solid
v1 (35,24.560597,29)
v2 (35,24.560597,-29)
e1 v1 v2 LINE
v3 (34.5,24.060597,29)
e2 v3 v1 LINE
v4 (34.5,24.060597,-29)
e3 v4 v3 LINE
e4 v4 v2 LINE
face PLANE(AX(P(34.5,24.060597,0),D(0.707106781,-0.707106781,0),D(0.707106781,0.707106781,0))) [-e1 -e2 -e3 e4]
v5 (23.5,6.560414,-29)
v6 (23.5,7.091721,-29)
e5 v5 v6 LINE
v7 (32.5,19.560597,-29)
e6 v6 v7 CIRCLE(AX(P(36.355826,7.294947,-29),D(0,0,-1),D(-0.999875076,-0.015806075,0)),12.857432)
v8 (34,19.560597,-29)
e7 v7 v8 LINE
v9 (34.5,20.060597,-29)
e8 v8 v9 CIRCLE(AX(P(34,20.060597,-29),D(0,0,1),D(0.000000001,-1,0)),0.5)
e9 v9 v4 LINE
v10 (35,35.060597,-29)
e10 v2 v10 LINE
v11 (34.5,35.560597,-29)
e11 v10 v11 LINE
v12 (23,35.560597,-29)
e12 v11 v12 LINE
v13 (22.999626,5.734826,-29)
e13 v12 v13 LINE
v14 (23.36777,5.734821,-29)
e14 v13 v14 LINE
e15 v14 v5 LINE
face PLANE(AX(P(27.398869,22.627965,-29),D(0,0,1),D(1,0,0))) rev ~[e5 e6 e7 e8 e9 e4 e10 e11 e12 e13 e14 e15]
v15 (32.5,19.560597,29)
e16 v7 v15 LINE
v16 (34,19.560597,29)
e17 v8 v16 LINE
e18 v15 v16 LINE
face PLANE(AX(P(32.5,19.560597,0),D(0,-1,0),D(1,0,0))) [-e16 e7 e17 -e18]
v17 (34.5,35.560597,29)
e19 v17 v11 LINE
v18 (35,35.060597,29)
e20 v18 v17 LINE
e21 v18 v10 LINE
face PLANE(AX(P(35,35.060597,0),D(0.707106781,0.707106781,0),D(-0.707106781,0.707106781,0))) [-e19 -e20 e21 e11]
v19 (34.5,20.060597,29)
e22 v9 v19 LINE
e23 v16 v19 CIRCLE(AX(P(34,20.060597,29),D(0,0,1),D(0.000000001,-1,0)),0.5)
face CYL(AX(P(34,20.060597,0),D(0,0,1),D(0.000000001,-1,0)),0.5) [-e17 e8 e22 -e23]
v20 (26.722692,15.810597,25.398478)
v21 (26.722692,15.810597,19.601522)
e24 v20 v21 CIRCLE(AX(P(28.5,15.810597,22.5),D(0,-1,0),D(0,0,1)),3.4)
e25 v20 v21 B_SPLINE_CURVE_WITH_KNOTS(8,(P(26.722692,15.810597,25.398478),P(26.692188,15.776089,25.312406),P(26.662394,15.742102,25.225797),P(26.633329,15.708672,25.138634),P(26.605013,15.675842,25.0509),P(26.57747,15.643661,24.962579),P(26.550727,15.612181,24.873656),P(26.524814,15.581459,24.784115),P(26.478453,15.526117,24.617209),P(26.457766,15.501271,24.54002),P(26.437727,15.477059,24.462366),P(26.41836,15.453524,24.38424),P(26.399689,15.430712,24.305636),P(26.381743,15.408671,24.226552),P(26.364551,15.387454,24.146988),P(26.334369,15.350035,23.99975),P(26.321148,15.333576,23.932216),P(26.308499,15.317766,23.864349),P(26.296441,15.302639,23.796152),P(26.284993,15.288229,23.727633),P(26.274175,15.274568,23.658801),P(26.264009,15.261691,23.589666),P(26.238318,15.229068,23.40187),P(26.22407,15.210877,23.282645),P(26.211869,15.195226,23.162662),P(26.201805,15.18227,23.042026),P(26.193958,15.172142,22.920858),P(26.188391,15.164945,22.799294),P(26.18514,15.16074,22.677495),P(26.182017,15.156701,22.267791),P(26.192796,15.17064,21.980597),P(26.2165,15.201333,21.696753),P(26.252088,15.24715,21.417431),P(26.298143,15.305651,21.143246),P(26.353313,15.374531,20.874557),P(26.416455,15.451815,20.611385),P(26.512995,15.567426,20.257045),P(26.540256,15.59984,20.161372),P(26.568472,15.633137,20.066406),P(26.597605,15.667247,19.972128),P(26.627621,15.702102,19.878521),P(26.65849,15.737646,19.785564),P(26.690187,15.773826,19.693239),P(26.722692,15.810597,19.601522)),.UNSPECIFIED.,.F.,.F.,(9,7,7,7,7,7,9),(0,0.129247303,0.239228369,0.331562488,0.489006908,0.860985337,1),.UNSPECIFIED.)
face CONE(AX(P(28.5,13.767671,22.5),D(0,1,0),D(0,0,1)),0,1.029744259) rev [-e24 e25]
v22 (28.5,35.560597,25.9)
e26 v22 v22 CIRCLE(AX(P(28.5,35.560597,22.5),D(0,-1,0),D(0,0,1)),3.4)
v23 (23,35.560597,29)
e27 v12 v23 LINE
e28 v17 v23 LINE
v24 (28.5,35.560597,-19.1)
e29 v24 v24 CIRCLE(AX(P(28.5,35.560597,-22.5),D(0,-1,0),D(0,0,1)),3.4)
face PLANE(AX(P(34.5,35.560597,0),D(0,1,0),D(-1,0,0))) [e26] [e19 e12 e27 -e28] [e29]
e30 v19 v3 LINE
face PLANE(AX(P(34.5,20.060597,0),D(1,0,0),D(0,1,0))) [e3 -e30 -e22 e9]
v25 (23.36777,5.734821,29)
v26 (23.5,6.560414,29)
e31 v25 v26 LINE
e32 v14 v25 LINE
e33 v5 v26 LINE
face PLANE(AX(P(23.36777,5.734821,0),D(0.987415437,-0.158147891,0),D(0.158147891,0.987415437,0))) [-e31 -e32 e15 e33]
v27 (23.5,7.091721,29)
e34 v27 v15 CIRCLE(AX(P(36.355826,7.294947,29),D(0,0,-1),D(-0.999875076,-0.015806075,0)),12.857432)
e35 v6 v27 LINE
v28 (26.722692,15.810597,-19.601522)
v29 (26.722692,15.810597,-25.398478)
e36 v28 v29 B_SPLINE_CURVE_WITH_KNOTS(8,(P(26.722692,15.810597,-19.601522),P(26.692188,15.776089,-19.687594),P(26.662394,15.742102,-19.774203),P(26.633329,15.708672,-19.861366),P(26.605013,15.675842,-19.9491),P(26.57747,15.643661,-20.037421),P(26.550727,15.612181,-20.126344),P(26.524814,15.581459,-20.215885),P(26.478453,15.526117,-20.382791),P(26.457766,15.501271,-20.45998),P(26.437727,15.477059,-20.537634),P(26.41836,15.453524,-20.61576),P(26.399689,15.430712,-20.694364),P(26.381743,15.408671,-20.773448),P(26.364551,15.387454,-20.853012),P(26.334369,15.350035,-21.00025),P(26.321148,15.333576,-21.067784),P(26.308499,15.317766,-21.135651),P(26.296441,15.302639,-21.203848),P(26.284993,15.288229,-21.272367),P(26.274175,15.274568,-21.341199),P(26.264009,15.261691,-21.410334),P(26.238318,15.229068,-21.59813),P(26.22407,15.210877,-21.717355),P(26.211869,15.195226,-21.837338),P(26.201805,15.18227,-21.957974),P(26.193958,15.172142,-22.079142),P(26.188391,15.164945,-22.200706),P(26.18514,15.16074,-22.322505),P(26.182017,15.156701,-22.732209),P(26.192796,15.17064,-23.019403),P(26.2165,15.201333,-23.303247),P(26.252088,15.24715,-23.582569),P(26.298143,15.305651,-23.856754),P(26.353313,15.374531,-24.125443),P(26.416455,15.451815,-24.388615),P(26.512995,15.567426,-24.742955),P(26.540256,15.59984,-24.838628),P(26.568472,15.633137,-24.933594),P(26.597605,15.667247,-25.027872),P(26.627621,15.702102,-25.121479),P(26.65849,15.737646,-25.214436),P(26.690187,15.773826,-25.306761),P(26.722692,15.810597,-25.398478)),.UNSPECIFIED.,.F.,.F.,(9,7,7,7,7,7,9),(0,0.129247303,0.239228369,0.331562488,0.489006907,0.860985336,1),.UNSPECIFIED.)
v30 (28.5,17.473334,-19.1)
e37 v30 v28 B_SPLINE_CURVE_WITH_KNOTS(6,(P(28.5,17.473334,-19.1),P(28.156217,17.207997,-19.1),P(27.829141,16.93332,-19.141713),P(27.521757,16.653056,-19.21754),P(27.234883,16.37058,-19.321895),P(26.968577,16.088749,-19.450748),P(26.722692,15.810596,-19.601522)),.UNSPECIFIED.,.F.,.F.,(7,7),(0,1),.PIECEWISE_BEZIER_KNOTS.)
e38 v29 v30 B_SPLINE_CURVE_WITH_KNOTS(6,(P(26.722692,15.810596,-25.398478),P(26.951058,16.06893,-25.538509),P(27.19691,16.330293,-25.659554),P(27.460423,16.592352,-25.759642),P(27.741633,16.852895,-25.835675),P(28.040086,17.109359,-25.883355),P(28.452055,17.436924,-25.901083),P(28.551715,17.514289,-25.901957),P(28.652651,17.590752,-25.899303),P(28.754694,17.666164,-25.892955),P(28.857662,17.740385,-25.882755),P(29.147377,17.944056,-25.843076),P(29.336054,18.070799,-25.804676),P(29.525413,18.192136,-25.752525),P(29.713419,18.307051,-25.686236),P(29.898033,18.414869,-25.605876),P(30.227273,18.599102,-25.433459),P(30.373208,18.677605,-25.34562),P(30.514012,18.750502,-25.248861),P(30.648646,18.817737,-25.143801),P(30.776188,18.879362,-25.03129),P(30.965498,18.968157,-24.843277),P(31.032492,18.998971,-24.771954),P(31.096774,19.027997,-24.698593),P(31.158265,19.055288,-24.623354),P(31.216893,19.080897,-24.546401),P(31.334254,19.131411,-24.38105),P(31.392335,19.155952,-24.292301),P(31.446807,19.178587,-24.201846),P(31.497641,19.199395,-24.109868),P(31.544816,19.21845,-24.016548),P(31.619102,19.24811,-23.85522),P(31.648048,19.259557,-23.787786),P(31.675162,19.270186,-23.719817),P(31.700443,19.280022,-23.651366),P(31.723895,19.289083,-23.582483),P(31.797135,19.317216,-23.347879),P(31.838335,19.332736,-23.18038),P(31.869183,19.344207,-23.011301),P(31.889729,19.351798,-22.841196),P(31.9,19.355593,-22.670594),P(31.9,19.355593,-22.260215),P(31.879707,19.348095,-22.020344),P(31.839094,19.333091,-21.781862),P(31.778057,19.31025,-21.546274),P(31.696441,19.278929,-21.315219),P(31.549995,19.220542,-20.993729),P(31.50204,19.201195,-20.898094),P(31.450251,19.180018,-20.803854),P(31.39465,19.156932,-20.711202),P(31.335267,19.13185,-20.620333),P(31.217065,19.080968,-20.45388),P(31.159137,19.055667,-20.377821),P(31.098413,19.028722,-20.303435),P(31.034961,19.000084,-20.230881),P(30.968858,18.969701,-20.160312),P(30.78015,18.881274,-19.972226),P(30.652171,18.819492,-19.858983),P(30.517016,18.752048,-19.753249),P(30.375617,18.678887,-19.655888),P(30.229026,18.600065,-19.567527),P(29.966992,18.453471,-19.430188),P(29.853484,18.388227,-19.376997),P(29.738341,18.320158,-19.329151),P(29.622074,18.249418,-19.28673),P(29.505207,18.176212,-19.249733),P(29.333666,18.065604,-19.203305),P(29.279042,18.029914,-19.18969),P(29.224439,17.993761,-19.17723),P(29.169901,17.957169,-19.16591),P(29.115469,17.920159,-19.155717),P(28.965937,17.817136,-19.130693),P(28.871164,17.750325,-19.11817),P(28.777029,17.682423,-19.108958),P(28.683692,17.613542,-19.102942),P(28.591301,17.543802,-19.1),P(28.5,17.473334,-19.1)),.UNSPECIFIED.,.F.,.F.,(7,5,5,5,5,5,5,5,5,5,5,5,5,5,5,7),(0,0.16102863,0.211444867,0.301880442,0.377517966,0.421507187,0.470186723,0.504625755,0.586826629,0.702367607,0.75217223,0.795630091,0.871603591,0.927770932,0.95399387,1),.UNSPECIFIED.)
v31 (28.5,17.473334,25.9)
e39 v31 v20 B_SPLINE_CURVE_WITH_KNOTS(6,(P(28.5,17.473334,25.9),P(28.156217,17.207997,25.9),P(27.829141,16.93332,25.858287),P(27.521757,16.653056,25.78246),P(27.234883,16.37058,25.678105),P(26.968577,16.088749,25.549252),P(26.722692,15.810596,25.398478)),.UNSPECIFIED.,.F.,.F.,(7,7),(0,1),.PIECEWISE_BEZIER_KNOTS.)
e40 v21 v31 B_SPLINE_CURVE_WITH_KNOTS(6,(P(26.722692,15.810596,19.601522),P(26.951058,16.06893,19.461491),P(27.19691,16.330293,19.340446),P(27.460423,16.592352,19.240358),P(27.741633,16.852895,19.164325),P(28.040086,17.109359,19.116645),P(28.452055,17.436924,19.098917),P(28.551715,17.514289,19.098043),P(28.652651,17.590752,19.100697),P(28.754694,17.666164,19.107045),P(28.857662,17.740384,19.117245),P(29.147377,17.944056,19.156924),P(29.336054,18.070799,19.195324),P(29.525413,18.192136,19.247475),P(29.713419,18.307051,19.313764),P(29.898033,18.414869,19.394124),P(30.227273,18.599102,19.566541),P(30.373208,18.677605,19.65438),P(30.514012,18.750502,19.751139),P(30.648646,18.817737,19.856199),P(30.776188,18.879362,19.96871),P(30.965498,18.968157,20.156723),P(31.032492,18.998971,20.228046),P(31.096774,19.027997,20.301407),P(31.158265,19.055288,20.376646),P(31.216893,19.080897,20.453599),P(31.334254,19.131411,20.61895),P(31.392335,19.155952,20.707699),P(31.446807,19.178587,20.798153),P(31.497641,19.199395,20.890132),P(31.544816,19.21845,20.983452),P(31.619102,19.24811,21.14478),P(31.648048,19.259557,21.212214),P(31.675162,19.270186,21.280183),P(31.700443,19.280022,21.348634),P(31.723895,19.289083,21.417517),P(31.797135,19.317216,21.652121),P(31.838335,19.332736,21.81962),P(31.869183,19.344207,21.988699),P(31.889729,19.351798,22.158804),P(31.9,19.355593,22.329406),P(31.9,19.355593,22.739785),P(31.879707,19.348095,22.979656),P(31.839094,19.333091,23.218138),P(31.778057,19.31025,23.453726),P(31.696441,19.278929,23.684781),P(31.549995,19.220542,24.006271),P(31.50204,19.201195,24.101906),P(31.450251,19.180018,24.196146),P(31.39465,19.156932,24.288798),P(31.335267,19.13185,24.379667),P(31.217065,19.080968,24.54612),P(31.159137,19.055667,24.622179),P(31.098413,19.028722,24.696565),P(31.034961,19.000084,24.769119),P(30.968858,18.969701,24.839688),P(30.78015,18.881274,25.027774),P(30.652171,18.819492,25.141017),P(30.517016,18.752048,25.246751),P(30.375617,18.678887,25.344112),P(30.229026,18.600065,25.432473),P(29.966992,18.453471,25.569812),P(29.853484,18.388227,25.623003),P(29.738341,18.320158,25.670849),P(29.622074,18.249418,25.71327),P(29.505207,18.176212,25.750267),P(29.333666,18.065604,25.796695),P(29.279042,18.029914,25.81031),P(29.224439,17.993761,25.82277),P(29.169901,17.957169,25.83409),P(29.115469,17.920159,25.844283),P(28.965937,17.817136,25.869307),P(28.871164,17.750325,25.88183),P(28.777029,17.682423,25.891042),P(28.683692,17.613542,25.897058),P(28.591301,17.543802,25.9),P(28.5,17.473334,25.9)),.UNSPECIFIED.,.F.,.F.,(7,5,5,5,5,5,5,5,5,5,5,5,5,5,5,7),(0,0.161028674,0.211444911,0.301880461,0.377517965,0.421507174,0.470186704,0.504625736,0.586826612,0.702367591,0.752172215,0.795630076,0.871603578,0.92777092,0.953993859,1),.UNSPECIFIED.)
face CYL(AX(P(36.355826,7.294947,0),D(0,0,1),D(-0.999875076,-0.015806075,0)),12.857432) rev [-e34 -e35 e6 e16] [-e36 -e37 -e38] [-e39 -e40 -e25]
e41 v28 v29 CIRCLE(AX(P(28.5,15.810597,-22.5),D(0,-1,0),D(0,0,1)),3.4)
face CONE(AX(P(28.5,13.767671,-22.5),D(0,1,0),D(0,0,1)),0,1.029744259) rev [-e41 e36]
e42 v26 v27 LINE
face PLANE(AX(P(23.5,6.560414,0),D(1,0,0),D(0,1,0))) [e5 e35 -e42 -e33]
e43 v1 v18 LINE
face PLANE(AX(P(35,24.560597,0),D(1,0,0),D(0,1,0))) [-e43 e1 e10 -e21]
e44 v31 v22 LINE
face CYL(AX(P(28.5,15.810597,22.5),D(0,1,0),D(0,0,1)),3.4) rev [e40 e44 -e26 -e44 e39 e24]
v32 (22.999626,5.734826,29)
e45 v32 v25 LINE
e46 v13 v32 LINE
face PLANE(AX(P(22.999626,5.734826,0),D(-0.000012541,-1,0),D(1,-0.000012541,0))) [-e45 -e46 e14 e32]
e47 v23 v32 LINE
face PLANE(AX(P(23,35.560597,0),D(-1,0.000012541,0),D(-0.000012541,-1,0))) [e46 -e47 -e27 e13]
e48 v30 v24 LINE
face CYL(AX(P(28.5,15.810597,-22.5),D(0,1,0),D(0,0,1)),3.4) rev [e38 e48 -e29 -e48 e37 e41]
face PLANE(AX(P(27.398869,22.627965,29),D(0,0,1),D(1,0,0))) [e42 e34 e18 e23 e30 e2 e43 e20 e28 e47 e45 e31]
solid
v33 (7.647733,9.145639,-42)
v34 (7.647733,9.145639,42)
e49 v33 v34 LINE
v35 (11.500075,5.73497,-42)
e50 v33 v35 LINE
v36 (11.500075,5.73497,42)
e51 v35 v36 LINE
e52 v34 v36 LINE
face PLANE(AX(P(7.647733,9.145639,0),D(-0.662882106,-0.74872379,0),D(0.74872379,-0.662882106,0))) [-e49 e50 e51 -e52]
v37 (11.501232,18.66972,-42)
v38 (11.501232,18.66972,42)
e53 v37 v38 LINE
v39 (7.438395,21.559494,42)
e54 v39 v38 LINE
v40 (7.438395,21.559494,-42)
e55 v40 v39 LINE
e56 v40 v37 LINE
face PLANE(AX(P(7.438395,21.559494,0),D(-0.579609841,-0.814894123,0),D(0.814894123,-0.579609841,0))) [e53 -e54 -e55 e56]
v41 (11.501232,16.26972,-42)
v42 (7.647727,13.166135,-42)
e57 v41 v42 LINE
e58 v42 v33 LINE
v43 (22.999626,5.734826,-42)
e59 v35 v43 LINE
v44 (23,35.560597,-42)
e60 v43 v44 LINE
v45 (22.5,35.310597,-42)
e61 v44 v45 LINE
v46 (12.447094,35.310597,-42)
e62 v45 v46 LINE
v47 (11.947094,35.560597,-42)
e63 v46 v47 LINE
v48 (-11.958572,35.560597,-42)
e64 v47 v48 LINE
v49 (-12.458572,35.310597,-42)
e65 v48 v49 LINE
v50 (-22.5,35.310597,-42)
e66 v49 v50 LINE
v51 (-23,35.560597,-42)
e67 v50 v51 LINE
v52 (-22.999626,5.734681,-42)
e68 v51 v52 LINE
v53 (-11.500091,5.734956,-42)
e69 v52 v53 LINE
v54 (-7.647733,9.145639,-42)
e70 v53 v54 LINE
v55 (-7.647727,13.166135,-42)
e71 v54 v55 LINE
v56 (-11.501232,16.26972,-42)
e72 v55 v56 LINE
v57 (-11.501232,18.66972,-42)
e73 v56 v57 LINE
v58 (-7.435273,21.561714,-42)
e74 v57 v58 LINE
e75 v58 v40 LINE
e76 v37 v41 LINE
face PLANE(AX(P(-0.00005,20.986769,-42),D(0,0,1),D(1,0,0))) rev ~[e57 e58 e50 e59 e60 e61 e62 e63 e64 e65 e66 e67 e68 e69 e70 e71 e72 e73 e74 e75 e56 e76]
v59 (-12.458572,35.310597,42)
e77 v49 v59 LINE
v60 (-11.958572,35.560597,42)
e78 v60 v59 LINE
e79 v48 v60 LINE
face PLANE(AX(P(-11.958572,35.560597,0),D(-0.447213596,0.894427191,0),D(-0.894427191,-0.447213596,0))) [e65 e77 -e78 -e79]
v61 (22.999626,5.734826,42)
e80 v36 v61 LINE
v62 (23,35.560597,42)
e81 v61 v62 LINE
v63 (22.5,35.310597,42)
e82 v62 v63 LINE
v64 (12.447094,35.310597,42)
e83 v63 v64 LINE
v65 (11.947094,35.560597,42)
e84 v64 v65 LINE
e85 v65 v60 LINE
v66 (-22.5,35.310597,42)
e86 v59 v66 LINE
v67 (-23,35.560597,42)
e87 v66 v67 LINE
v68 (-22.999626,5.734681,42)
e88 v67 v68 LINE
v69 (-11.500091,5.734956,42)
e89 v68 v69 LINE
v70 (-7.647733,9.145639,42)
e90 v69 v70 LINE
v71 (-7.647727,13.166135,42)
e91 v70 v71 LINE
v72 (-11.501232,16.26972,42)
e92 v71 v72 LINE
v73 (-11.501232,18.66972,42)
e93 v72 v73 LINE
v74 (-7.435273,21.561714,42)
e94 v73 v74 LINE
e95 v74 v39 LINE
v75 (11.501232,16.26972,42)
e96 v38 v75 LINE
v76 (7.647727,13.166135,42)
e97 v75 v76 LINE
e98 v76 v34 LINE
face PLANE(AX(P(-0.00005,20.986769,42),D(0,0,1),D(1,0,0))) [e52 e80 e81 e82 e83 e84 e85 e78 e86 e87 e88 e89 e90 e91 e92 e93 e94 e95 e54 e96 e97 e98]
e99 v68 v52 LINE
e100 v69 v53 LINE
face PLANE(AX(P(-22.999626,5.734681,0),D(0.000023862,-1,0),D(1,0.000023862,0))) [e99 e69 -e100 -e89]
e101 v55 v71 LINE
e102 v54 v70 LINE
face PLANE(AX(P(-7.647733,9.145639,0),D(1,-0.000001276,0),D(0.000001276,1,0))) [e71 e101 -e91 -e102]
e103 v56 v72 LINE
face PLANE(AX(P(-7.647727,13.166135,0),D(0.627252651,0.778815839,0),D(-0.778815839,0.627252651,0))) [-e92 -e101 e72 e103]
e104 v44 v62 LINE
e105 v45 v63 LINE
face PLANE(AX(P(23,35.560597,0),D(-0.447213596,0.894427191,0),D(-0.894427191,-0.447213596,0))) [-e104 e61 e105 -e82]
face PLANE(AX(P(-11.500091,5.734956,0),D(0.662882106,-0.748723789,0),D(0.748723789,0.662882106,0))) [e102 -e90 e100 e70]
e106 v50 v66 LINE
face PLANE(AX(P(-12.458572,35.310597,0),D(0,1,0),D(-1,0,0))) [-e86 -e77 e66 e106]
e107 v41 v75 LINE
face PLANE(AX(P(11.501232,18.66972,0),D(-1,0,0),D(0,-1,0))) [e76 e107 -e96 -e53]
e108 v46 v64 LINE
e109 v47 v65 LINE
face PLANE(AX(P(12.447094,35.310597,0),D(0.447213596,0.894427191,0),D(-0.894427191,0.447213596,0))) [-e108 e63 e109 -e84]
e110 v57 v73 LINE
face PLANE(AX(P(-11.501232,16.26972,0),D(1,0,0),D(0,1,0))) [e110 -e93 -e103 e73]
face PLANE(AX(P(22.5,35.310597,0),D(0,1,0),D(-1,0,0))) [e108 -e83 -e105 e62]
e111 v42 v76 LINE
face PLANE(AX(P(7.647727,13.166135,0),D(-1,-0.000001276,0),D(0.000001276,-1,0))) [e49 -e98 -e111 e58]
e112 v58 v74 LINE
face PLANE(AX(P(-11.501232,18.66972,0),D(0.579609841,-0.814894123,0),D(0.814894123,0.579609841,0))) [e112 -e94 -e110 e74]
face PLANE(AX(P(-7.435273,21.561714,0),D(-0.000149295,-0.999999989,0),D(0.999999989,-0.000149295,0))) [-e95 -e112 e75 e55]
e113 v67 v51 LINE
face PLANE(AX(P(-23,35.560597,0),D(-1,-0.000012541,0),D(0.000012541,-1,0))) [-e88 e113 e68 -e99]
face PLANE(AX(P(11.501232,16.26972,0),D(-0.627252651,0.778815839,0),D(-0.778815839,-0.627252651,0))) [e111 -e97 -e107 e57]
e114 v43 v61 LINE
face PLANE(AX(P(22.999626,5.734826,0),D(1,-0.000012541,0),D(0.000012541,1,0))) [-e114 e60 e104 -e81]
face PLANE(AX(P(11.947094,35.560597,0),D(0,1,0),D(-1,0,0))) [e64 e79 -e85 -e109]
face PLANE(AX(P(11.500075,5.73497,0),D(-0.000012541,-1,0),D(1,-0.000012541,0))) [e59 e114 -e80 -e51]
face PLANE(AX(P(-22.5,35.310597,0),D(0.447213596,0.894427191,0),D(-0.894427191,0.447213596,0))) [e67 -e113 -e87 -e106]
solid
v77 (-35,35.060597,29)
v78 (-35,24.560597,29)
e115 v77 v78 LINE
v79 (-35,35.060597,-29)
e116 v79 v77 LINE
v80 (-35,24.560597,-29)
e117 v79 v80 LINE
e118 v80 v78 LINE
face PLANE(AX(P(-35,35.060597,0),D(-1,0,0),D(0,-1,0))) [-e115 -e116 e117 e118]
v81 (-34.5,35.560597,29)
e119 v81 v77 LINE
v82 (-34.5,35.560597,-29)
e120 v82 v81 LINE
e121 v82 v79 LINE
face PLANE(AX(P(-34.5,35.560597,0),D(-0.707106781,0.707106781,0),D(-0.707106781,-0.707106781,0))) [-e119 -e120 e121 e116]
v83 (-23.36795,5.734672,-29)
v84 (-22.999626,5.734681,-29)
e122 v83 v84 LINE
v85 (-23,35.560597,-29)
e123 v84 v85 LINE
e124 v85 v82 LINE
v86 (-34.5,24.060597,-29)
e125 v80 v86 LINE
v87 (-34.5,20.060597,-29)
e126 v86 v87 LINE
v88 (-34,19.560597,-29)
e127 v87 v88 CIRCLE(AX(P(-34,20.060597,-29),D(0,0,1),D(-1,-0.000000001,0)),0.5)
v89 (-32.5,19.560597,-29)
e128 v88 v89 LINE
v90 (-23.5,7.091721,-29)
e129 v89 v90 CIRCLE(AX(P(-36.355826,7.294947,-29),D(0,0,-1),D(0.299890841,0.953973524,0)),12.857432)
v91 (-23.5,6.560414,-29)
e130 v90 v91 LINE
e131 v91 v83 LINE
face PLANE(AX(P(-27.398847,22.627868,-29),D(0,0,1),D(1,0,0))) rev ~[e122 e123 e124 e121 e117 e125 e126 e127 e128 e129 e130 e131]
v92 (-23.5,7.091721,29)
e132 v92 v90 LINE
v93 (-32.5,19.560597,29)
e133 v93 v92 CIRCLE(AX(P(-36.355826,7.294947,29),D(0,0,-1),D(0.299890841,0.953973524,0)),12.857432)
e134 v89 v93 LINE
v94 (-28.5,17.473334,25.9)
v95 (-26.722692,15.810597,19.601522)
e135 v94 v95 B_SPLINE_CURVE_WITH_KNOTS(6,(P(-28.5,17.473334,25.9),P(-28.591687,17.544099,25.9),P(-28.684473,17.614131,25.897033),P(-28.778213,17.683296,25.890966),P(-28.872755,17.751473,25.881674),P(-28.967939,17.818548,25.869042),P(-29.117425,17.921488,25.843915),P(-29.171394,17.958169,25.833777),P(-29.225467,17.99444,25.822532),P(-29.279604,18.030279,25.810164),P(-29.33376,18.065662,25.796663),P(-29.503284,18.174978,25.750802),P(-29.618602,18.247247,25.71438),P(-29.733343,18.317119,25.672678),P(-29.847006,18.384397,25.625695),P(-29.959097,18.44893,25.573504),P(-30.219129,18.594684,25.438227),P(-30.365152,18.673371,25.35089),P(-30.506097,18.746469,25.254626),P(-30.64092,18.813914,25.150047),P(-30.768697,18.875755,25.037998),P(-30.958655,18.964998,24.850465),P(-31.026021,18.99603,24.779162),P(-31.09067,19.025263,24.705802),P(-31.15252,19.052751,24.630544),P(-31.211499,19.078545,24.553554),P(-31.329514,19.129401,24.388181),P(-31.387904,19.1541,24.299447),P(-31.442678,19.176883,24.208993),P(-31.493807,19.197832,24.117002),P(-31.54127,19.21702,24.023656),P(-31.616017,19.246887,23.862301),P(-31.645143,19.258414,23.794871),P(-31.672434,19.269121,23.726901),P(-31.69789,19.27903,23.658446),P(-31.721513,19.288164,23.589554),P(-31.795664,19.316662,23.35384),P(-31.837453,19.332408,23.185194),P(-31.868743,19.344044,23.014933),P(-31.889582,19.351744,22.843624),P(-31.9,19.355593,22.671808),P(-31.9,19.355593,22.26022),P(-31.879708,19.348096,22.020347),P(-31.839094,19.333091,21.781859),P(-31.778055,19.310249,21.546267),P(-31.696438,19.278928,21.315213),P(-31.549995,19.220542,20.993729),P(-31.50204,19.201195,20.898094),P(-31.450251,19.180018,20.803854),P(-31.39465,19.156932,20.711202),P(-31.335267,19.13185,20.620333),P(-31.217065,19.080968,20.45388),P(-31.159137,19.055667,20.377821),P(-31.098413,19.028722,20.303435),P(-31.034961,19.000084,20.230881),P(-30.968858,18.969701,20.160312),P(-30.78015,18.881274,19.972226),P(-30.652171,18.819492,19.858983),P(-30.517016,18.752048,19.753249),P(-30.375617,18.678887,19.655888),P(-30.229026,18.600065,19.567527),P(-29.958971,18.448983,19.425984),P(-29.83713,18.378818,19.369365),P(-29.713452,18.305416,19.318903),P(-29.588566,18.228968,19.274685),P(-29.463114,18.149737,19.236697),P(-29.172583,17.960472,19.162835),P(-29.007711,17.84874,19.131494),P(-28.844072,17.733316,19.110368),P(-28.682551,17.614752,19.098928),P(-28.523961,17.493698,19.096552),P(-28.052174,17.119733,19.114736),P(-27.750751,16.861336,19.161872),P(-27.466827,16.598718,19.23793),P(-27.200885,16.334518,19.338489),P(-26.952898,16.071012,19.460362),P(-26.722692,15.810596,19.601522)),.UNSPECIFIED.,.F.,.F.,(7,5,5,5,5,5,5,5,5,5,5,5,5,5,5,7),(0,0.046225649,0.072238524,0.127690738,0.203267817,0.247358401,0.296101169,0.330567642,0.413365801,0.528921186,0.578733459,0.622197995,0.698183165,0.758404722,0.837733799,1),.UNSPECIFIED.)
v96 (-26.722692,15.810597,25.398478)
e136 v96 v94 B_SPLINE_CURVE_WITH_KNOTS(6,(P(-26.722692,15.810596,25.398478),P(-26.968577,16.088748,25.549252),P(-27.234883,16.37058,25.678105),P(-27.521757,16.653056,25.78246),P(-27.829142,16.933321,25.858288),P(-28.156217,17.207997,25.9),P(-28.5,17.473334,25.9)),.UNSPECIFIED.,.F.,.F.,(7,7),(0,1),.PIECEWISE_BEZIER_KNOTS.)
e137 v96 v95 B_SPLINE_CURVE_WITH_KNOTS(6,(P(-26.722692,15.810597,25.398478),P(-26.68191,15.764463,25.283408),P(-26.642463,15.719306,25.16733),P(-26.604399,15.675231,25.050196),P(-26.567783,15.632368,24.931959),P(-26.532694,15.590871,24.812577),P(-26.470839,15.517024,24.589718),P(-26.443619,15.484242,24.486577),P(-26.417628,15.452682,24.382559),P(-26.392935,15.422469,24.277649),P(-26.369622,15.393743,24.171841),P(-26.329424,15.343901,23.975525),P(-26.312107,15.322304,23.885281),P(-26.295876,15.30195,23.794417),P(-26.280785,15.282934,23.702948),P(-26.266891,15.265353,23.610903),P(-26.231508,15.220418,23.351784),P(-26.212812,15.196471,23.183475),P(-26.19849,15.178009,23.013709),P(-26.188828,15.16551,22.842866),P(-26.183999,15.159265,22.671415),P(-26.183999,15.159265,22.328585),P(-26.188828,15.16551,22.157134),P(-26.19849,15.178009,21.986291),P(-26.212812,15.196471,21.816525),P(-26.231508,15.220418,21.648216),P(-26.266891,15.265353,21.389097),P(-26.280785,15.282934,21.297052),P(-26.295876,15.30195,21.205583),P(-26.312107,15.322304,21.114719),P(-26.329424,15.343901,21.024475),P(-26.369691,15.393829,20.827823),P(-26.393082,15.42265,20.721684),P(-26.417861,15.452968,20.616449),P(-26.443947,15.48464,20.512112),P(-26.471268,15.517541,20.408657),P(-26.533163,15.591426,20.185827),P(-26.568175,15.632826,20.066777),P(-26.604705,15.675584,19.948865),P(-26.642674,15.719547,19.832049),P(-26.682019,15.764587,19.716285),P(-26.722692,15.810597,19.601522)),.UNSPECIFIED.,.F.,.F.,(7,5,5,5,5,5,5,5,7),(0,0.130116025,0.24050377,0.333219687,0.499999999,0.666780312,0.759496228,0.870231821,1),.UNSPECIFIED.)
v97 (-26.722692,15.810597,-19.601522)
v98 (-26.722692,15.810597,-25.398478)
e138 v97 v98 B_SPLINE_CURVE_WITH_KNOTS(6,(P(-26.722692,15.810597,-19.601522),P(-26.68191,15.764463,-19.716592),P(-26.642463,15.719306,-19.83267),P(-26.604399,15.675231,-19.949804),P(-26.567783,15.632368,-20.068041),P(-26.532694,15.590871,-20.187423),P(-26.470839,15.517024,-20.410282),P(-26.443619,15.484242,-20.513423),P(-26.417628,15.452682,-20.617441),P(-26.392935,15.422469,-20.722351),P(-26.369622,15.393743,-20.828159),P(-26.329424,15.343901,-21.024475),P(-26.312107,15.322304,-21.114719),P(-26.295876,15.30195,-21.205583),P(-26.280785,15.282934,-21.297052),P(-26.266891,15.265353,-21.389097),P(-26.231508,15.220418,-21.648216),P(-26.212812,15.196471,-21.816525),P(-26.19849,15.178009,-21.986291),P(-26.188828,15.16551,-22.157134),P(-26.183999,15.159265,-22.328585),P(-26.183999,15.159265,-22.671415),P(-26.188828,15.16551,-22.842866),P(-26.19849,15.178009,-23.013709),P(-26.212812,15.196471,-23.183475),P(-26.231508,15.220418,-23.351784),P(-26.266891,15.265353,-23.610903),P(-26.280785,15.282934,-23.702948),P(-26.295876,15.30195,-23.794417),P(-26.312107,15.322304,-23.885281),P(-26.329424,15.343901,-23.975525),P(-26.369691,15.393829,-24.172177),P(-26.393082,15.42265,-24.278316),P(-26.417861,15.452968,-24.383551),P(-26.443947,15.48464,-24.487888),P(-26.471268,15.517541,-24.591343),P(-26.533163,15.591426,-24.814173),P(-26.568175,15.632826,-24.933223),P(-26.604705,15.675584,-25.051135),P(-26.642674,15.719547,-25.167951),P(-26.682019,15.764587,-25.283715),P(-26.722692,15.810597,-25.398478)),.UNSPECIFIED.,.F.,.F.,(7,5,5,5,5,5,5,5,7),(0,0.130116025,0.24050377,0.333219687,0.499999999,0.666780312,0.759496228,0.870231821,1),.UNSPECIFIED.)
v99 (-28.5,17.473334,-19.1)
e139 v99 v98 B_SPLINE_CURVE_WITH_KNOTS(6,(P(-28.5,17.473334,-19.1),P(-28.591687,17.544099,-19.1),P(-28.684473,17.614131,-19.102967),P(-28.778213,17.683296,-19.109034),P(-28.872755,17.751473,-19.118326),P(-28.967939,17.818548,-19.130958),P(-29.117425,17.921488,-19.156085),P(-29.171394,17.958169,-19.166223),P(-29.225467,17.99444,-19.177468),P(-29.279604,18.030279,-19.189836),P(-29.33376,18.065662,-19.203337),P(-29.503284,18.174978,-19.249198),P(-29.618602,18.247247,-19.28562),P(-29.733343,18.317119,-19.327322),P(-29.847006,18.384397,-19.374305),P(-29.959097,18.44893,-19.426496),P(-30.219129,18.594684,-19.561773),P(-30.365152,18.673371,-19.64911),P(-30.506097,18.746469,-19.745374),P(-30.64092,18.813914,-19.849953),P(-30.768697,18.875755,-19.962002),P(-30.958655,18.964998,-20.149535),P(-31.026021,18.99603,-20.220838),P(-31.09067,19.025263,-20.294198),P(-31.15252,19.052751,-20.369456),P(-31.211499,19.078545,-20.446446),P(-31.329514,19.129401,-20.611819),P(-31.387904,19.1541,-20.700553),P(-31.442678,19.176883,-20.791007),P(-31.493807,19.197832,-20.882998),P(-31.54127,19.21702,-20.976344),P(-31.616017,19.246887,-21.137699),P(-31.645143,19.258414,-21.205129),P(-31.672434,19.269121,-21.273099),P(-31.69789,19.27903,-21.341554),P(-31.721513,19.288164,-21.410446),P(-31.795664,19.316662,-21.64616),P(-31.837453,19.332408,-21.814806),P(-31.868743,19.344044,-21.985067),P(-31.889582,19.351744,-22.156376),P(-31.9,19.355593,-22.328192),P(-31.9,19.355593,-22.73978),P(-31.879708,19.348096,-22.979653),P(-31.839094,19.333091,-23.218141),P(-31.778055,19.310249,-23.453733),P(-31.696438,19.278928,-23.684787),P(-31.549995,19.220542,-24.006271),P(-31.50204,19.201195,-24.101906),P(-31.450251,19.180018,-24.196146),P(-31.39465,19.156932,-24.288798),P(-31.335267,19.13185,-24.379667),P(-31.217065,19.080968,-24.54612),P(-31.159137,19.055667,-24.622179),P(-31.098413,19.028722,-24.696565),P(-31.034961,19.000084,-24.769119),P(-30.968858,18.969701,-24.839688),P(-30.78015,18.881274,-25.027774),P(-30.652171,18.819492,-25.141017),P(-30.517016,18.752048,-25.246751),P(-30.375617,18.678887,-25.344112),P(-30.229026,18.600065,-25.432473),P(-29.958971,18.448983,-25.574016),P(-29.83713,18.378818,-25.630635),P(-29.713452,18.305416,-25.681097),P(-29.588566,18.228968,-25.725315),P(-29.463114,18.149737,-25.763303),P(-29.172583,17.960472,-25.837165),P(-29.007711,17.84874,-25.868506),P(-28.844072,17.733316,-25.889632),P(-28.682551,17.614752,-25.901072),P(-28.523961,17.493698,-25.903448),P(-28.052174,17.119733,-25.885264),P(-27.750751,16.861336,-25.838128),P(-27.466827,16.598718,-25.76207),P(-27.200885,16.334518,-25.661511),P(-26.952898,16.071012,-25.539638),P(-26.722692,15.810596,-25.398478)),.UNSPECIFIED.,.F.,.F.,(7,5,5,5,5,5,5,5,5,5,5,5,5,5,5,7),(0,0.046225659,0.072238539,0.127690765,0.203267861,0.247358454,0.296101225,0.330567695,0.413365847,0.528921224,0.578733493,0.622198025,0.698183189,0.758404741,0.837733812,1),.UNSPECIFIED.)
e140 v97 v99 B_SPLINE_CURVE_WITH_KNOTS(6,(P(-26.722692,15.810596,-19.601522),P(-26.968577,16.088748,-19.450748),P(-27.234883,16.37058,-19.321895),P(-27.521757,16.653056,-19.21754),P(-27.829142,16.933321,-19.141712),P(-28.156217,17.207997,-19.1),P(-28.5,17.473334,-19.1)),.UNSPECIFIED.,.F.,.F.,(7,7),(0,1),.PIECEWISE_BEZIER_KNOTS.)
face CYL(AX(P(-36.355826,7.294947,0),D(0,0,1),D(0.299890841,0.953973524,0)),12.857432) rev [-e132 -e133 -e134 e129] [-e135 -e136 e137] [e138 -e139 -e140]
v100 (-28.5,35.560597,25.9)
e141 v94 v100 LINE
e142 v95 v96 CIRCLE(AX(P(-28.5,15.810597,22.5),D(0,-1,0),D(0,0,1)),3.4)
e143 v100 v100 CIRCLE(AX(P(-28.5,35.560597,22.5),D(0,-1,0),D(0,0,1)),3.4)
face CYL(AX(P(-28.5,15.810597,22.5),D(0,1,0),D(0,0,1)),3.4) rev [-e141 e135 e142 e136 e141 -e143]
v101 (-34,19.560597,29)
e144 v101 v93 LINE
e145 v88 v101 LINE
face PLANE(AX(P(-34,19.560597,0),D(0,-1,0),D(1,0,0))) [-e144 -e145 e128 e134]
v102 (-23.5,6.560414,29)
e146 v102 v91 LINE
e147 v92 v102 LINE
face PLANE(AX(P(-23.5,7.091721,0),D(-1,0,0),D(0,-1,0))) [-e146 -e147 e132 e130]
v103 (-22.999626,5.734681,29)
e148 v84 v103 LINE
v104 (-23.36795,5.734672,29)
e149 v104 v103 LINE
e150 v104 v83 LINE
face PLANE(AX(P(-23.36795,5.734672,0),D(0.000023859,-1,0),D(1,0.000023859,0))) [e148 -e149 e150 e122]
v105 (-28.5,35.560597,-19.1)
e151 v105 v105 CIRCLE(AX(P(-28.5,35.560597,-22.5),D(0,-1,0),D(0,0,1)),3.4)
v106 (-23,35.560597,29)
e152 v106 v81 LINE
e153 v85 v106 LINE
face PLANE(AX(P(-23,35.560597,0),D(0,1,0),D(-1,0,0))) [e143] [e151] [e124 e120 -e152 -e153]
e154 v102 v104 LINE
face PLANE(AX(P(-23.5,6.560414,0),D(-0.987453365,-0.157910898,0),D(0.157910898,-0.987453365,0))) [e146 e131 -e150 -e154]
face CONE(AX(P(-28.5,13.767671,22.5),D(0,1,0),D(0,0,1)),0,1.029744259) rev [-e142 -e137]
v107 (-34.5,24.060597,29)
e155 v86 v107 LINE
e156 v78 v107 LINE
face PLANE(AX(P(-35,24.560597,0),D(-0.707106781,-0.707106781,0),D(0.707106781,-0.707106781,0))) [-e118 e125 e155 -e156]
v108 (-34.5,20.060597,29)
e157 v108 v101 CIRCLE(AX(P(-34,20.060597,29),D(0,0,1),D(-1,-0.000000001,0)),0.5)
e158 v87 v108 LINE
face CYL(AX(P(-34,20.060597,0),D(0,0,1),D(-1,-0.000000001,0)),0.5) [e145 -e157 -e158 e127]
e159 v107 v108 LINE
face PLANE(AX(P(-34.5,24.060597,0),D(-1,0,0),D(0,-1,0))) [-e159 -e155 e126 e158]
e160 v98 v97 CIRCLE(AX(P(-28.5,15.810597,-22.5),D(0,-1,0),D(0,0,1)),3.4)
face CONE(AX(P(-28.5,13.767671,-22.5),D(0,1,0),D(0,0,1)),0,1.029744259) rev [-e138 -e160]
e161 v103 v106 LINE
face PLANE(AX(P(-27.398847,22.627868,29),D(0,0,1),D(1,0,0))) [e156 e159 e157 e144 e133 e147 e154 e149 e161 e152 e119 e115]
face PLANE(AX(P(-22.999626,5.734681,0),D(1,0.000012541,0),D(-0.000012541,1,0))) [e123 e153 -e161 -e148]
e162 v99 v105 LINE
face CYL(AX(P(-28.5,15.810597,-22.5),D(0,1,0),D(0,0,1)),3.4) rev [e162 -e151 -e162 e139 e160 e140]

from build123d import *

# Parameters (mm, degrees)
EXTRUDE_1_DEPTH             = 42
EXTRUDE_2_DEPTH             = 29
EXTRUDE_2_2_DEPTH           = 29
HOLE_WIZARD_M8_1_AT_2_COUNT = 2
HOLE_WIZARD_M8_1_AT_2_PITCH = 45
HOLE_WIZARD_M8_1_AT_3_COUNT = 2
HOLE_WIZARD_M8_1_AT_3_PITCH = 72.622310621
HOLE_WIZARD_M8_1_AT_4_COUNT = 2
HOLE_WIZARD_M8_1_AT_4_PITCH = 57


with BuildPart() as part:
    # 草图1 → 凸台-拉伸1 (new, symmetric)
    with BuildSketch(Plane.XY):
        Polygon((-11.500091475, 5.734955537), (-7.647732558, 9.145638929), (-7.647727428, 13.16613519), (-11.50123169, 16.269719689), (-11.50123169, 18.669719689), (-7.435273395, 21.561714335), (7.43839537, 21.559493767), (11.50123169, 18.669719689), (11.50123169, 16.269719689), (7.647727428, 13.16613519), (7.647732558, 9.145638929), (11.500075136, 5.734970004), (22.999625955, 5.734825788), (23, 35.560596819), (22.5, 35.310596819), (12.447093803, 35.310596819), (11.947093803, 35.560596819), (-11.958571704, 35.560596819), (-12.458571704, 35.310596819), (-22.5, 35.310596819), (-23, 35.560596819), (-22.999625953, 5.734681137), align=None)
    extrude(amount=EXTRUDE_1_DEPTH, both=True)


with BuildPart() as body_2:
    # 草图1<5> → 凸台-拉伸2 (new, symmetric)
    with BuildSketch(Plane.XY):
        with BuildLine():
            Line((34.5, 35.560596819), (23, 35.560596819))
            Line((23, 35.560596819), (22.999625955, 5.734825788))
            Line((22.999625955, 5.734825788), (23.367770173, 5.734821171))
            Line((23.367770173, 5.734821171), (23.5, 6.560414048))
            Line((23.5, 6.560414048), (23.5, 7.09172117))
            ThreePointArc((23.5, 7.09172117), (25.930470263, 14.819939841), (32.5, 19.560596819))
            Line((32.5, 19.560596819), (34, 19.560596819))
            ThreePointArc((34, 19.560596819), (34.353553391, 19.707043429), (34.5, 20.060596819))
            Line((34.5, 20.060596819), (34.5, 24.060596819))
            Line((34.5, 24.060596819), (35, 24.560596819))
            Line((35, 24.560596819), (35, 35.060596819))
            Line((35, 35.060596819), (34.5, 35.560596819))
        make_face()
    extrude(amount=EXTRUDE_2_DEPTH, both=True)


with BuildPart() as body_3:
    # 草图1<5> → Extrude 2 2 (new, symmetric)
    with BuildSketch(Plane.XY):
        with BuildLine():
            Line((-23.367949599, 5.734672349), (-22.999625953, 5.734681137))
            Line((-22.999625953, 5.734681137), (-23, 35.560596819))
            Line((-23, 35.560596819), (-34.5, 35.560596819))
            Line((-34.5, 35.560596819), (-35, 35.060596819))
            Line((-35, 35.060596819), (-35, 24.560596819))
            Line((-35, 24.560596819), (-34.5, 24.060596819))
            Line((-34.5, 24.060596819), (-34.5, 20.060596819))
            ThreePointArc((-34.5, 20.060596819), (-34.353553391, 19.707043429), (-34, 19.560596819))
            Line((-34, 19.560596819), (-32.5, 19.560596819))
            ThreePointArc((-32.5, 19.560596819), (-25.930470263, 14.819939841), (-23.5, 7.09172117))
            Line((-23.5, 7.09172117), (-23.5, 6.560414048))
            Line((-23.5, 6.560414048), (-23.367949599, 5.734672349))
        make_face()
    extrude(amount=EXTRUDE_2_2_DEPTH, both=True)

    # 草图2 → M8 螺纹孔1 (revolve, cut)
    with BuildSketch(Plane(origin=(-28.5, 35.560596819, 22.5), x_dir=(0, 0, 1), z_dir=(1, 0, 0))):
        Polygon((0, 0), (0, 21.792926105), (3.4, 19.75), (3.4, 0), align=None)
    hole_wizard_m8_1 = revolve(axis=Axis((-28.5, 41.910596819, 22.5), (0, -1, 0)), mode=Mode.SUBTRACT)

    # M8 螺纹孔1 at 2: M8 螺纹孔1 ×2
    with Locations(*[(0, 0, -i * HOLE_WIZARD_M8_1_AT_2_PITCH) for i in range(1, HOLE_WIZARD_M8_1_AT_2_COUNT)]):
        add(hole_wizard_m8_1, mode=Mode.SUBTRACT)


with BuildPart() as body_2_1:
    add(body_2.part)

    # M8 螺纹孔1 at 3: M8 螺纹孔1 ×2
    with Locations(*[Vector(0.7848827655334262, 0, -0.6196442885790209) * (i * HOLE_WIZARD_M8_1_AT_3_PITCH) for i in range(1, HOLE_WIZARD_M8_1_AT_3_COUNT)]):
        add(hole_wizard_m8_1, mode=Mode.SUBTRACT)

    # M8 螺纹孔1 at 4: M8 螺纹孔1 ×2
    with Locations(*[(i * HOLE_WIZARD_M8_1_AT_4_PITCH, 0, 0) for i in range(1, HOLE_WIZARD_M8_1_AT_4_COUNT)]):
        add(hole_wizard_m8_1, mode=Mode.SUBTRACT)


solid = Compound([part.part, body_3.part, body_2_1.part])
